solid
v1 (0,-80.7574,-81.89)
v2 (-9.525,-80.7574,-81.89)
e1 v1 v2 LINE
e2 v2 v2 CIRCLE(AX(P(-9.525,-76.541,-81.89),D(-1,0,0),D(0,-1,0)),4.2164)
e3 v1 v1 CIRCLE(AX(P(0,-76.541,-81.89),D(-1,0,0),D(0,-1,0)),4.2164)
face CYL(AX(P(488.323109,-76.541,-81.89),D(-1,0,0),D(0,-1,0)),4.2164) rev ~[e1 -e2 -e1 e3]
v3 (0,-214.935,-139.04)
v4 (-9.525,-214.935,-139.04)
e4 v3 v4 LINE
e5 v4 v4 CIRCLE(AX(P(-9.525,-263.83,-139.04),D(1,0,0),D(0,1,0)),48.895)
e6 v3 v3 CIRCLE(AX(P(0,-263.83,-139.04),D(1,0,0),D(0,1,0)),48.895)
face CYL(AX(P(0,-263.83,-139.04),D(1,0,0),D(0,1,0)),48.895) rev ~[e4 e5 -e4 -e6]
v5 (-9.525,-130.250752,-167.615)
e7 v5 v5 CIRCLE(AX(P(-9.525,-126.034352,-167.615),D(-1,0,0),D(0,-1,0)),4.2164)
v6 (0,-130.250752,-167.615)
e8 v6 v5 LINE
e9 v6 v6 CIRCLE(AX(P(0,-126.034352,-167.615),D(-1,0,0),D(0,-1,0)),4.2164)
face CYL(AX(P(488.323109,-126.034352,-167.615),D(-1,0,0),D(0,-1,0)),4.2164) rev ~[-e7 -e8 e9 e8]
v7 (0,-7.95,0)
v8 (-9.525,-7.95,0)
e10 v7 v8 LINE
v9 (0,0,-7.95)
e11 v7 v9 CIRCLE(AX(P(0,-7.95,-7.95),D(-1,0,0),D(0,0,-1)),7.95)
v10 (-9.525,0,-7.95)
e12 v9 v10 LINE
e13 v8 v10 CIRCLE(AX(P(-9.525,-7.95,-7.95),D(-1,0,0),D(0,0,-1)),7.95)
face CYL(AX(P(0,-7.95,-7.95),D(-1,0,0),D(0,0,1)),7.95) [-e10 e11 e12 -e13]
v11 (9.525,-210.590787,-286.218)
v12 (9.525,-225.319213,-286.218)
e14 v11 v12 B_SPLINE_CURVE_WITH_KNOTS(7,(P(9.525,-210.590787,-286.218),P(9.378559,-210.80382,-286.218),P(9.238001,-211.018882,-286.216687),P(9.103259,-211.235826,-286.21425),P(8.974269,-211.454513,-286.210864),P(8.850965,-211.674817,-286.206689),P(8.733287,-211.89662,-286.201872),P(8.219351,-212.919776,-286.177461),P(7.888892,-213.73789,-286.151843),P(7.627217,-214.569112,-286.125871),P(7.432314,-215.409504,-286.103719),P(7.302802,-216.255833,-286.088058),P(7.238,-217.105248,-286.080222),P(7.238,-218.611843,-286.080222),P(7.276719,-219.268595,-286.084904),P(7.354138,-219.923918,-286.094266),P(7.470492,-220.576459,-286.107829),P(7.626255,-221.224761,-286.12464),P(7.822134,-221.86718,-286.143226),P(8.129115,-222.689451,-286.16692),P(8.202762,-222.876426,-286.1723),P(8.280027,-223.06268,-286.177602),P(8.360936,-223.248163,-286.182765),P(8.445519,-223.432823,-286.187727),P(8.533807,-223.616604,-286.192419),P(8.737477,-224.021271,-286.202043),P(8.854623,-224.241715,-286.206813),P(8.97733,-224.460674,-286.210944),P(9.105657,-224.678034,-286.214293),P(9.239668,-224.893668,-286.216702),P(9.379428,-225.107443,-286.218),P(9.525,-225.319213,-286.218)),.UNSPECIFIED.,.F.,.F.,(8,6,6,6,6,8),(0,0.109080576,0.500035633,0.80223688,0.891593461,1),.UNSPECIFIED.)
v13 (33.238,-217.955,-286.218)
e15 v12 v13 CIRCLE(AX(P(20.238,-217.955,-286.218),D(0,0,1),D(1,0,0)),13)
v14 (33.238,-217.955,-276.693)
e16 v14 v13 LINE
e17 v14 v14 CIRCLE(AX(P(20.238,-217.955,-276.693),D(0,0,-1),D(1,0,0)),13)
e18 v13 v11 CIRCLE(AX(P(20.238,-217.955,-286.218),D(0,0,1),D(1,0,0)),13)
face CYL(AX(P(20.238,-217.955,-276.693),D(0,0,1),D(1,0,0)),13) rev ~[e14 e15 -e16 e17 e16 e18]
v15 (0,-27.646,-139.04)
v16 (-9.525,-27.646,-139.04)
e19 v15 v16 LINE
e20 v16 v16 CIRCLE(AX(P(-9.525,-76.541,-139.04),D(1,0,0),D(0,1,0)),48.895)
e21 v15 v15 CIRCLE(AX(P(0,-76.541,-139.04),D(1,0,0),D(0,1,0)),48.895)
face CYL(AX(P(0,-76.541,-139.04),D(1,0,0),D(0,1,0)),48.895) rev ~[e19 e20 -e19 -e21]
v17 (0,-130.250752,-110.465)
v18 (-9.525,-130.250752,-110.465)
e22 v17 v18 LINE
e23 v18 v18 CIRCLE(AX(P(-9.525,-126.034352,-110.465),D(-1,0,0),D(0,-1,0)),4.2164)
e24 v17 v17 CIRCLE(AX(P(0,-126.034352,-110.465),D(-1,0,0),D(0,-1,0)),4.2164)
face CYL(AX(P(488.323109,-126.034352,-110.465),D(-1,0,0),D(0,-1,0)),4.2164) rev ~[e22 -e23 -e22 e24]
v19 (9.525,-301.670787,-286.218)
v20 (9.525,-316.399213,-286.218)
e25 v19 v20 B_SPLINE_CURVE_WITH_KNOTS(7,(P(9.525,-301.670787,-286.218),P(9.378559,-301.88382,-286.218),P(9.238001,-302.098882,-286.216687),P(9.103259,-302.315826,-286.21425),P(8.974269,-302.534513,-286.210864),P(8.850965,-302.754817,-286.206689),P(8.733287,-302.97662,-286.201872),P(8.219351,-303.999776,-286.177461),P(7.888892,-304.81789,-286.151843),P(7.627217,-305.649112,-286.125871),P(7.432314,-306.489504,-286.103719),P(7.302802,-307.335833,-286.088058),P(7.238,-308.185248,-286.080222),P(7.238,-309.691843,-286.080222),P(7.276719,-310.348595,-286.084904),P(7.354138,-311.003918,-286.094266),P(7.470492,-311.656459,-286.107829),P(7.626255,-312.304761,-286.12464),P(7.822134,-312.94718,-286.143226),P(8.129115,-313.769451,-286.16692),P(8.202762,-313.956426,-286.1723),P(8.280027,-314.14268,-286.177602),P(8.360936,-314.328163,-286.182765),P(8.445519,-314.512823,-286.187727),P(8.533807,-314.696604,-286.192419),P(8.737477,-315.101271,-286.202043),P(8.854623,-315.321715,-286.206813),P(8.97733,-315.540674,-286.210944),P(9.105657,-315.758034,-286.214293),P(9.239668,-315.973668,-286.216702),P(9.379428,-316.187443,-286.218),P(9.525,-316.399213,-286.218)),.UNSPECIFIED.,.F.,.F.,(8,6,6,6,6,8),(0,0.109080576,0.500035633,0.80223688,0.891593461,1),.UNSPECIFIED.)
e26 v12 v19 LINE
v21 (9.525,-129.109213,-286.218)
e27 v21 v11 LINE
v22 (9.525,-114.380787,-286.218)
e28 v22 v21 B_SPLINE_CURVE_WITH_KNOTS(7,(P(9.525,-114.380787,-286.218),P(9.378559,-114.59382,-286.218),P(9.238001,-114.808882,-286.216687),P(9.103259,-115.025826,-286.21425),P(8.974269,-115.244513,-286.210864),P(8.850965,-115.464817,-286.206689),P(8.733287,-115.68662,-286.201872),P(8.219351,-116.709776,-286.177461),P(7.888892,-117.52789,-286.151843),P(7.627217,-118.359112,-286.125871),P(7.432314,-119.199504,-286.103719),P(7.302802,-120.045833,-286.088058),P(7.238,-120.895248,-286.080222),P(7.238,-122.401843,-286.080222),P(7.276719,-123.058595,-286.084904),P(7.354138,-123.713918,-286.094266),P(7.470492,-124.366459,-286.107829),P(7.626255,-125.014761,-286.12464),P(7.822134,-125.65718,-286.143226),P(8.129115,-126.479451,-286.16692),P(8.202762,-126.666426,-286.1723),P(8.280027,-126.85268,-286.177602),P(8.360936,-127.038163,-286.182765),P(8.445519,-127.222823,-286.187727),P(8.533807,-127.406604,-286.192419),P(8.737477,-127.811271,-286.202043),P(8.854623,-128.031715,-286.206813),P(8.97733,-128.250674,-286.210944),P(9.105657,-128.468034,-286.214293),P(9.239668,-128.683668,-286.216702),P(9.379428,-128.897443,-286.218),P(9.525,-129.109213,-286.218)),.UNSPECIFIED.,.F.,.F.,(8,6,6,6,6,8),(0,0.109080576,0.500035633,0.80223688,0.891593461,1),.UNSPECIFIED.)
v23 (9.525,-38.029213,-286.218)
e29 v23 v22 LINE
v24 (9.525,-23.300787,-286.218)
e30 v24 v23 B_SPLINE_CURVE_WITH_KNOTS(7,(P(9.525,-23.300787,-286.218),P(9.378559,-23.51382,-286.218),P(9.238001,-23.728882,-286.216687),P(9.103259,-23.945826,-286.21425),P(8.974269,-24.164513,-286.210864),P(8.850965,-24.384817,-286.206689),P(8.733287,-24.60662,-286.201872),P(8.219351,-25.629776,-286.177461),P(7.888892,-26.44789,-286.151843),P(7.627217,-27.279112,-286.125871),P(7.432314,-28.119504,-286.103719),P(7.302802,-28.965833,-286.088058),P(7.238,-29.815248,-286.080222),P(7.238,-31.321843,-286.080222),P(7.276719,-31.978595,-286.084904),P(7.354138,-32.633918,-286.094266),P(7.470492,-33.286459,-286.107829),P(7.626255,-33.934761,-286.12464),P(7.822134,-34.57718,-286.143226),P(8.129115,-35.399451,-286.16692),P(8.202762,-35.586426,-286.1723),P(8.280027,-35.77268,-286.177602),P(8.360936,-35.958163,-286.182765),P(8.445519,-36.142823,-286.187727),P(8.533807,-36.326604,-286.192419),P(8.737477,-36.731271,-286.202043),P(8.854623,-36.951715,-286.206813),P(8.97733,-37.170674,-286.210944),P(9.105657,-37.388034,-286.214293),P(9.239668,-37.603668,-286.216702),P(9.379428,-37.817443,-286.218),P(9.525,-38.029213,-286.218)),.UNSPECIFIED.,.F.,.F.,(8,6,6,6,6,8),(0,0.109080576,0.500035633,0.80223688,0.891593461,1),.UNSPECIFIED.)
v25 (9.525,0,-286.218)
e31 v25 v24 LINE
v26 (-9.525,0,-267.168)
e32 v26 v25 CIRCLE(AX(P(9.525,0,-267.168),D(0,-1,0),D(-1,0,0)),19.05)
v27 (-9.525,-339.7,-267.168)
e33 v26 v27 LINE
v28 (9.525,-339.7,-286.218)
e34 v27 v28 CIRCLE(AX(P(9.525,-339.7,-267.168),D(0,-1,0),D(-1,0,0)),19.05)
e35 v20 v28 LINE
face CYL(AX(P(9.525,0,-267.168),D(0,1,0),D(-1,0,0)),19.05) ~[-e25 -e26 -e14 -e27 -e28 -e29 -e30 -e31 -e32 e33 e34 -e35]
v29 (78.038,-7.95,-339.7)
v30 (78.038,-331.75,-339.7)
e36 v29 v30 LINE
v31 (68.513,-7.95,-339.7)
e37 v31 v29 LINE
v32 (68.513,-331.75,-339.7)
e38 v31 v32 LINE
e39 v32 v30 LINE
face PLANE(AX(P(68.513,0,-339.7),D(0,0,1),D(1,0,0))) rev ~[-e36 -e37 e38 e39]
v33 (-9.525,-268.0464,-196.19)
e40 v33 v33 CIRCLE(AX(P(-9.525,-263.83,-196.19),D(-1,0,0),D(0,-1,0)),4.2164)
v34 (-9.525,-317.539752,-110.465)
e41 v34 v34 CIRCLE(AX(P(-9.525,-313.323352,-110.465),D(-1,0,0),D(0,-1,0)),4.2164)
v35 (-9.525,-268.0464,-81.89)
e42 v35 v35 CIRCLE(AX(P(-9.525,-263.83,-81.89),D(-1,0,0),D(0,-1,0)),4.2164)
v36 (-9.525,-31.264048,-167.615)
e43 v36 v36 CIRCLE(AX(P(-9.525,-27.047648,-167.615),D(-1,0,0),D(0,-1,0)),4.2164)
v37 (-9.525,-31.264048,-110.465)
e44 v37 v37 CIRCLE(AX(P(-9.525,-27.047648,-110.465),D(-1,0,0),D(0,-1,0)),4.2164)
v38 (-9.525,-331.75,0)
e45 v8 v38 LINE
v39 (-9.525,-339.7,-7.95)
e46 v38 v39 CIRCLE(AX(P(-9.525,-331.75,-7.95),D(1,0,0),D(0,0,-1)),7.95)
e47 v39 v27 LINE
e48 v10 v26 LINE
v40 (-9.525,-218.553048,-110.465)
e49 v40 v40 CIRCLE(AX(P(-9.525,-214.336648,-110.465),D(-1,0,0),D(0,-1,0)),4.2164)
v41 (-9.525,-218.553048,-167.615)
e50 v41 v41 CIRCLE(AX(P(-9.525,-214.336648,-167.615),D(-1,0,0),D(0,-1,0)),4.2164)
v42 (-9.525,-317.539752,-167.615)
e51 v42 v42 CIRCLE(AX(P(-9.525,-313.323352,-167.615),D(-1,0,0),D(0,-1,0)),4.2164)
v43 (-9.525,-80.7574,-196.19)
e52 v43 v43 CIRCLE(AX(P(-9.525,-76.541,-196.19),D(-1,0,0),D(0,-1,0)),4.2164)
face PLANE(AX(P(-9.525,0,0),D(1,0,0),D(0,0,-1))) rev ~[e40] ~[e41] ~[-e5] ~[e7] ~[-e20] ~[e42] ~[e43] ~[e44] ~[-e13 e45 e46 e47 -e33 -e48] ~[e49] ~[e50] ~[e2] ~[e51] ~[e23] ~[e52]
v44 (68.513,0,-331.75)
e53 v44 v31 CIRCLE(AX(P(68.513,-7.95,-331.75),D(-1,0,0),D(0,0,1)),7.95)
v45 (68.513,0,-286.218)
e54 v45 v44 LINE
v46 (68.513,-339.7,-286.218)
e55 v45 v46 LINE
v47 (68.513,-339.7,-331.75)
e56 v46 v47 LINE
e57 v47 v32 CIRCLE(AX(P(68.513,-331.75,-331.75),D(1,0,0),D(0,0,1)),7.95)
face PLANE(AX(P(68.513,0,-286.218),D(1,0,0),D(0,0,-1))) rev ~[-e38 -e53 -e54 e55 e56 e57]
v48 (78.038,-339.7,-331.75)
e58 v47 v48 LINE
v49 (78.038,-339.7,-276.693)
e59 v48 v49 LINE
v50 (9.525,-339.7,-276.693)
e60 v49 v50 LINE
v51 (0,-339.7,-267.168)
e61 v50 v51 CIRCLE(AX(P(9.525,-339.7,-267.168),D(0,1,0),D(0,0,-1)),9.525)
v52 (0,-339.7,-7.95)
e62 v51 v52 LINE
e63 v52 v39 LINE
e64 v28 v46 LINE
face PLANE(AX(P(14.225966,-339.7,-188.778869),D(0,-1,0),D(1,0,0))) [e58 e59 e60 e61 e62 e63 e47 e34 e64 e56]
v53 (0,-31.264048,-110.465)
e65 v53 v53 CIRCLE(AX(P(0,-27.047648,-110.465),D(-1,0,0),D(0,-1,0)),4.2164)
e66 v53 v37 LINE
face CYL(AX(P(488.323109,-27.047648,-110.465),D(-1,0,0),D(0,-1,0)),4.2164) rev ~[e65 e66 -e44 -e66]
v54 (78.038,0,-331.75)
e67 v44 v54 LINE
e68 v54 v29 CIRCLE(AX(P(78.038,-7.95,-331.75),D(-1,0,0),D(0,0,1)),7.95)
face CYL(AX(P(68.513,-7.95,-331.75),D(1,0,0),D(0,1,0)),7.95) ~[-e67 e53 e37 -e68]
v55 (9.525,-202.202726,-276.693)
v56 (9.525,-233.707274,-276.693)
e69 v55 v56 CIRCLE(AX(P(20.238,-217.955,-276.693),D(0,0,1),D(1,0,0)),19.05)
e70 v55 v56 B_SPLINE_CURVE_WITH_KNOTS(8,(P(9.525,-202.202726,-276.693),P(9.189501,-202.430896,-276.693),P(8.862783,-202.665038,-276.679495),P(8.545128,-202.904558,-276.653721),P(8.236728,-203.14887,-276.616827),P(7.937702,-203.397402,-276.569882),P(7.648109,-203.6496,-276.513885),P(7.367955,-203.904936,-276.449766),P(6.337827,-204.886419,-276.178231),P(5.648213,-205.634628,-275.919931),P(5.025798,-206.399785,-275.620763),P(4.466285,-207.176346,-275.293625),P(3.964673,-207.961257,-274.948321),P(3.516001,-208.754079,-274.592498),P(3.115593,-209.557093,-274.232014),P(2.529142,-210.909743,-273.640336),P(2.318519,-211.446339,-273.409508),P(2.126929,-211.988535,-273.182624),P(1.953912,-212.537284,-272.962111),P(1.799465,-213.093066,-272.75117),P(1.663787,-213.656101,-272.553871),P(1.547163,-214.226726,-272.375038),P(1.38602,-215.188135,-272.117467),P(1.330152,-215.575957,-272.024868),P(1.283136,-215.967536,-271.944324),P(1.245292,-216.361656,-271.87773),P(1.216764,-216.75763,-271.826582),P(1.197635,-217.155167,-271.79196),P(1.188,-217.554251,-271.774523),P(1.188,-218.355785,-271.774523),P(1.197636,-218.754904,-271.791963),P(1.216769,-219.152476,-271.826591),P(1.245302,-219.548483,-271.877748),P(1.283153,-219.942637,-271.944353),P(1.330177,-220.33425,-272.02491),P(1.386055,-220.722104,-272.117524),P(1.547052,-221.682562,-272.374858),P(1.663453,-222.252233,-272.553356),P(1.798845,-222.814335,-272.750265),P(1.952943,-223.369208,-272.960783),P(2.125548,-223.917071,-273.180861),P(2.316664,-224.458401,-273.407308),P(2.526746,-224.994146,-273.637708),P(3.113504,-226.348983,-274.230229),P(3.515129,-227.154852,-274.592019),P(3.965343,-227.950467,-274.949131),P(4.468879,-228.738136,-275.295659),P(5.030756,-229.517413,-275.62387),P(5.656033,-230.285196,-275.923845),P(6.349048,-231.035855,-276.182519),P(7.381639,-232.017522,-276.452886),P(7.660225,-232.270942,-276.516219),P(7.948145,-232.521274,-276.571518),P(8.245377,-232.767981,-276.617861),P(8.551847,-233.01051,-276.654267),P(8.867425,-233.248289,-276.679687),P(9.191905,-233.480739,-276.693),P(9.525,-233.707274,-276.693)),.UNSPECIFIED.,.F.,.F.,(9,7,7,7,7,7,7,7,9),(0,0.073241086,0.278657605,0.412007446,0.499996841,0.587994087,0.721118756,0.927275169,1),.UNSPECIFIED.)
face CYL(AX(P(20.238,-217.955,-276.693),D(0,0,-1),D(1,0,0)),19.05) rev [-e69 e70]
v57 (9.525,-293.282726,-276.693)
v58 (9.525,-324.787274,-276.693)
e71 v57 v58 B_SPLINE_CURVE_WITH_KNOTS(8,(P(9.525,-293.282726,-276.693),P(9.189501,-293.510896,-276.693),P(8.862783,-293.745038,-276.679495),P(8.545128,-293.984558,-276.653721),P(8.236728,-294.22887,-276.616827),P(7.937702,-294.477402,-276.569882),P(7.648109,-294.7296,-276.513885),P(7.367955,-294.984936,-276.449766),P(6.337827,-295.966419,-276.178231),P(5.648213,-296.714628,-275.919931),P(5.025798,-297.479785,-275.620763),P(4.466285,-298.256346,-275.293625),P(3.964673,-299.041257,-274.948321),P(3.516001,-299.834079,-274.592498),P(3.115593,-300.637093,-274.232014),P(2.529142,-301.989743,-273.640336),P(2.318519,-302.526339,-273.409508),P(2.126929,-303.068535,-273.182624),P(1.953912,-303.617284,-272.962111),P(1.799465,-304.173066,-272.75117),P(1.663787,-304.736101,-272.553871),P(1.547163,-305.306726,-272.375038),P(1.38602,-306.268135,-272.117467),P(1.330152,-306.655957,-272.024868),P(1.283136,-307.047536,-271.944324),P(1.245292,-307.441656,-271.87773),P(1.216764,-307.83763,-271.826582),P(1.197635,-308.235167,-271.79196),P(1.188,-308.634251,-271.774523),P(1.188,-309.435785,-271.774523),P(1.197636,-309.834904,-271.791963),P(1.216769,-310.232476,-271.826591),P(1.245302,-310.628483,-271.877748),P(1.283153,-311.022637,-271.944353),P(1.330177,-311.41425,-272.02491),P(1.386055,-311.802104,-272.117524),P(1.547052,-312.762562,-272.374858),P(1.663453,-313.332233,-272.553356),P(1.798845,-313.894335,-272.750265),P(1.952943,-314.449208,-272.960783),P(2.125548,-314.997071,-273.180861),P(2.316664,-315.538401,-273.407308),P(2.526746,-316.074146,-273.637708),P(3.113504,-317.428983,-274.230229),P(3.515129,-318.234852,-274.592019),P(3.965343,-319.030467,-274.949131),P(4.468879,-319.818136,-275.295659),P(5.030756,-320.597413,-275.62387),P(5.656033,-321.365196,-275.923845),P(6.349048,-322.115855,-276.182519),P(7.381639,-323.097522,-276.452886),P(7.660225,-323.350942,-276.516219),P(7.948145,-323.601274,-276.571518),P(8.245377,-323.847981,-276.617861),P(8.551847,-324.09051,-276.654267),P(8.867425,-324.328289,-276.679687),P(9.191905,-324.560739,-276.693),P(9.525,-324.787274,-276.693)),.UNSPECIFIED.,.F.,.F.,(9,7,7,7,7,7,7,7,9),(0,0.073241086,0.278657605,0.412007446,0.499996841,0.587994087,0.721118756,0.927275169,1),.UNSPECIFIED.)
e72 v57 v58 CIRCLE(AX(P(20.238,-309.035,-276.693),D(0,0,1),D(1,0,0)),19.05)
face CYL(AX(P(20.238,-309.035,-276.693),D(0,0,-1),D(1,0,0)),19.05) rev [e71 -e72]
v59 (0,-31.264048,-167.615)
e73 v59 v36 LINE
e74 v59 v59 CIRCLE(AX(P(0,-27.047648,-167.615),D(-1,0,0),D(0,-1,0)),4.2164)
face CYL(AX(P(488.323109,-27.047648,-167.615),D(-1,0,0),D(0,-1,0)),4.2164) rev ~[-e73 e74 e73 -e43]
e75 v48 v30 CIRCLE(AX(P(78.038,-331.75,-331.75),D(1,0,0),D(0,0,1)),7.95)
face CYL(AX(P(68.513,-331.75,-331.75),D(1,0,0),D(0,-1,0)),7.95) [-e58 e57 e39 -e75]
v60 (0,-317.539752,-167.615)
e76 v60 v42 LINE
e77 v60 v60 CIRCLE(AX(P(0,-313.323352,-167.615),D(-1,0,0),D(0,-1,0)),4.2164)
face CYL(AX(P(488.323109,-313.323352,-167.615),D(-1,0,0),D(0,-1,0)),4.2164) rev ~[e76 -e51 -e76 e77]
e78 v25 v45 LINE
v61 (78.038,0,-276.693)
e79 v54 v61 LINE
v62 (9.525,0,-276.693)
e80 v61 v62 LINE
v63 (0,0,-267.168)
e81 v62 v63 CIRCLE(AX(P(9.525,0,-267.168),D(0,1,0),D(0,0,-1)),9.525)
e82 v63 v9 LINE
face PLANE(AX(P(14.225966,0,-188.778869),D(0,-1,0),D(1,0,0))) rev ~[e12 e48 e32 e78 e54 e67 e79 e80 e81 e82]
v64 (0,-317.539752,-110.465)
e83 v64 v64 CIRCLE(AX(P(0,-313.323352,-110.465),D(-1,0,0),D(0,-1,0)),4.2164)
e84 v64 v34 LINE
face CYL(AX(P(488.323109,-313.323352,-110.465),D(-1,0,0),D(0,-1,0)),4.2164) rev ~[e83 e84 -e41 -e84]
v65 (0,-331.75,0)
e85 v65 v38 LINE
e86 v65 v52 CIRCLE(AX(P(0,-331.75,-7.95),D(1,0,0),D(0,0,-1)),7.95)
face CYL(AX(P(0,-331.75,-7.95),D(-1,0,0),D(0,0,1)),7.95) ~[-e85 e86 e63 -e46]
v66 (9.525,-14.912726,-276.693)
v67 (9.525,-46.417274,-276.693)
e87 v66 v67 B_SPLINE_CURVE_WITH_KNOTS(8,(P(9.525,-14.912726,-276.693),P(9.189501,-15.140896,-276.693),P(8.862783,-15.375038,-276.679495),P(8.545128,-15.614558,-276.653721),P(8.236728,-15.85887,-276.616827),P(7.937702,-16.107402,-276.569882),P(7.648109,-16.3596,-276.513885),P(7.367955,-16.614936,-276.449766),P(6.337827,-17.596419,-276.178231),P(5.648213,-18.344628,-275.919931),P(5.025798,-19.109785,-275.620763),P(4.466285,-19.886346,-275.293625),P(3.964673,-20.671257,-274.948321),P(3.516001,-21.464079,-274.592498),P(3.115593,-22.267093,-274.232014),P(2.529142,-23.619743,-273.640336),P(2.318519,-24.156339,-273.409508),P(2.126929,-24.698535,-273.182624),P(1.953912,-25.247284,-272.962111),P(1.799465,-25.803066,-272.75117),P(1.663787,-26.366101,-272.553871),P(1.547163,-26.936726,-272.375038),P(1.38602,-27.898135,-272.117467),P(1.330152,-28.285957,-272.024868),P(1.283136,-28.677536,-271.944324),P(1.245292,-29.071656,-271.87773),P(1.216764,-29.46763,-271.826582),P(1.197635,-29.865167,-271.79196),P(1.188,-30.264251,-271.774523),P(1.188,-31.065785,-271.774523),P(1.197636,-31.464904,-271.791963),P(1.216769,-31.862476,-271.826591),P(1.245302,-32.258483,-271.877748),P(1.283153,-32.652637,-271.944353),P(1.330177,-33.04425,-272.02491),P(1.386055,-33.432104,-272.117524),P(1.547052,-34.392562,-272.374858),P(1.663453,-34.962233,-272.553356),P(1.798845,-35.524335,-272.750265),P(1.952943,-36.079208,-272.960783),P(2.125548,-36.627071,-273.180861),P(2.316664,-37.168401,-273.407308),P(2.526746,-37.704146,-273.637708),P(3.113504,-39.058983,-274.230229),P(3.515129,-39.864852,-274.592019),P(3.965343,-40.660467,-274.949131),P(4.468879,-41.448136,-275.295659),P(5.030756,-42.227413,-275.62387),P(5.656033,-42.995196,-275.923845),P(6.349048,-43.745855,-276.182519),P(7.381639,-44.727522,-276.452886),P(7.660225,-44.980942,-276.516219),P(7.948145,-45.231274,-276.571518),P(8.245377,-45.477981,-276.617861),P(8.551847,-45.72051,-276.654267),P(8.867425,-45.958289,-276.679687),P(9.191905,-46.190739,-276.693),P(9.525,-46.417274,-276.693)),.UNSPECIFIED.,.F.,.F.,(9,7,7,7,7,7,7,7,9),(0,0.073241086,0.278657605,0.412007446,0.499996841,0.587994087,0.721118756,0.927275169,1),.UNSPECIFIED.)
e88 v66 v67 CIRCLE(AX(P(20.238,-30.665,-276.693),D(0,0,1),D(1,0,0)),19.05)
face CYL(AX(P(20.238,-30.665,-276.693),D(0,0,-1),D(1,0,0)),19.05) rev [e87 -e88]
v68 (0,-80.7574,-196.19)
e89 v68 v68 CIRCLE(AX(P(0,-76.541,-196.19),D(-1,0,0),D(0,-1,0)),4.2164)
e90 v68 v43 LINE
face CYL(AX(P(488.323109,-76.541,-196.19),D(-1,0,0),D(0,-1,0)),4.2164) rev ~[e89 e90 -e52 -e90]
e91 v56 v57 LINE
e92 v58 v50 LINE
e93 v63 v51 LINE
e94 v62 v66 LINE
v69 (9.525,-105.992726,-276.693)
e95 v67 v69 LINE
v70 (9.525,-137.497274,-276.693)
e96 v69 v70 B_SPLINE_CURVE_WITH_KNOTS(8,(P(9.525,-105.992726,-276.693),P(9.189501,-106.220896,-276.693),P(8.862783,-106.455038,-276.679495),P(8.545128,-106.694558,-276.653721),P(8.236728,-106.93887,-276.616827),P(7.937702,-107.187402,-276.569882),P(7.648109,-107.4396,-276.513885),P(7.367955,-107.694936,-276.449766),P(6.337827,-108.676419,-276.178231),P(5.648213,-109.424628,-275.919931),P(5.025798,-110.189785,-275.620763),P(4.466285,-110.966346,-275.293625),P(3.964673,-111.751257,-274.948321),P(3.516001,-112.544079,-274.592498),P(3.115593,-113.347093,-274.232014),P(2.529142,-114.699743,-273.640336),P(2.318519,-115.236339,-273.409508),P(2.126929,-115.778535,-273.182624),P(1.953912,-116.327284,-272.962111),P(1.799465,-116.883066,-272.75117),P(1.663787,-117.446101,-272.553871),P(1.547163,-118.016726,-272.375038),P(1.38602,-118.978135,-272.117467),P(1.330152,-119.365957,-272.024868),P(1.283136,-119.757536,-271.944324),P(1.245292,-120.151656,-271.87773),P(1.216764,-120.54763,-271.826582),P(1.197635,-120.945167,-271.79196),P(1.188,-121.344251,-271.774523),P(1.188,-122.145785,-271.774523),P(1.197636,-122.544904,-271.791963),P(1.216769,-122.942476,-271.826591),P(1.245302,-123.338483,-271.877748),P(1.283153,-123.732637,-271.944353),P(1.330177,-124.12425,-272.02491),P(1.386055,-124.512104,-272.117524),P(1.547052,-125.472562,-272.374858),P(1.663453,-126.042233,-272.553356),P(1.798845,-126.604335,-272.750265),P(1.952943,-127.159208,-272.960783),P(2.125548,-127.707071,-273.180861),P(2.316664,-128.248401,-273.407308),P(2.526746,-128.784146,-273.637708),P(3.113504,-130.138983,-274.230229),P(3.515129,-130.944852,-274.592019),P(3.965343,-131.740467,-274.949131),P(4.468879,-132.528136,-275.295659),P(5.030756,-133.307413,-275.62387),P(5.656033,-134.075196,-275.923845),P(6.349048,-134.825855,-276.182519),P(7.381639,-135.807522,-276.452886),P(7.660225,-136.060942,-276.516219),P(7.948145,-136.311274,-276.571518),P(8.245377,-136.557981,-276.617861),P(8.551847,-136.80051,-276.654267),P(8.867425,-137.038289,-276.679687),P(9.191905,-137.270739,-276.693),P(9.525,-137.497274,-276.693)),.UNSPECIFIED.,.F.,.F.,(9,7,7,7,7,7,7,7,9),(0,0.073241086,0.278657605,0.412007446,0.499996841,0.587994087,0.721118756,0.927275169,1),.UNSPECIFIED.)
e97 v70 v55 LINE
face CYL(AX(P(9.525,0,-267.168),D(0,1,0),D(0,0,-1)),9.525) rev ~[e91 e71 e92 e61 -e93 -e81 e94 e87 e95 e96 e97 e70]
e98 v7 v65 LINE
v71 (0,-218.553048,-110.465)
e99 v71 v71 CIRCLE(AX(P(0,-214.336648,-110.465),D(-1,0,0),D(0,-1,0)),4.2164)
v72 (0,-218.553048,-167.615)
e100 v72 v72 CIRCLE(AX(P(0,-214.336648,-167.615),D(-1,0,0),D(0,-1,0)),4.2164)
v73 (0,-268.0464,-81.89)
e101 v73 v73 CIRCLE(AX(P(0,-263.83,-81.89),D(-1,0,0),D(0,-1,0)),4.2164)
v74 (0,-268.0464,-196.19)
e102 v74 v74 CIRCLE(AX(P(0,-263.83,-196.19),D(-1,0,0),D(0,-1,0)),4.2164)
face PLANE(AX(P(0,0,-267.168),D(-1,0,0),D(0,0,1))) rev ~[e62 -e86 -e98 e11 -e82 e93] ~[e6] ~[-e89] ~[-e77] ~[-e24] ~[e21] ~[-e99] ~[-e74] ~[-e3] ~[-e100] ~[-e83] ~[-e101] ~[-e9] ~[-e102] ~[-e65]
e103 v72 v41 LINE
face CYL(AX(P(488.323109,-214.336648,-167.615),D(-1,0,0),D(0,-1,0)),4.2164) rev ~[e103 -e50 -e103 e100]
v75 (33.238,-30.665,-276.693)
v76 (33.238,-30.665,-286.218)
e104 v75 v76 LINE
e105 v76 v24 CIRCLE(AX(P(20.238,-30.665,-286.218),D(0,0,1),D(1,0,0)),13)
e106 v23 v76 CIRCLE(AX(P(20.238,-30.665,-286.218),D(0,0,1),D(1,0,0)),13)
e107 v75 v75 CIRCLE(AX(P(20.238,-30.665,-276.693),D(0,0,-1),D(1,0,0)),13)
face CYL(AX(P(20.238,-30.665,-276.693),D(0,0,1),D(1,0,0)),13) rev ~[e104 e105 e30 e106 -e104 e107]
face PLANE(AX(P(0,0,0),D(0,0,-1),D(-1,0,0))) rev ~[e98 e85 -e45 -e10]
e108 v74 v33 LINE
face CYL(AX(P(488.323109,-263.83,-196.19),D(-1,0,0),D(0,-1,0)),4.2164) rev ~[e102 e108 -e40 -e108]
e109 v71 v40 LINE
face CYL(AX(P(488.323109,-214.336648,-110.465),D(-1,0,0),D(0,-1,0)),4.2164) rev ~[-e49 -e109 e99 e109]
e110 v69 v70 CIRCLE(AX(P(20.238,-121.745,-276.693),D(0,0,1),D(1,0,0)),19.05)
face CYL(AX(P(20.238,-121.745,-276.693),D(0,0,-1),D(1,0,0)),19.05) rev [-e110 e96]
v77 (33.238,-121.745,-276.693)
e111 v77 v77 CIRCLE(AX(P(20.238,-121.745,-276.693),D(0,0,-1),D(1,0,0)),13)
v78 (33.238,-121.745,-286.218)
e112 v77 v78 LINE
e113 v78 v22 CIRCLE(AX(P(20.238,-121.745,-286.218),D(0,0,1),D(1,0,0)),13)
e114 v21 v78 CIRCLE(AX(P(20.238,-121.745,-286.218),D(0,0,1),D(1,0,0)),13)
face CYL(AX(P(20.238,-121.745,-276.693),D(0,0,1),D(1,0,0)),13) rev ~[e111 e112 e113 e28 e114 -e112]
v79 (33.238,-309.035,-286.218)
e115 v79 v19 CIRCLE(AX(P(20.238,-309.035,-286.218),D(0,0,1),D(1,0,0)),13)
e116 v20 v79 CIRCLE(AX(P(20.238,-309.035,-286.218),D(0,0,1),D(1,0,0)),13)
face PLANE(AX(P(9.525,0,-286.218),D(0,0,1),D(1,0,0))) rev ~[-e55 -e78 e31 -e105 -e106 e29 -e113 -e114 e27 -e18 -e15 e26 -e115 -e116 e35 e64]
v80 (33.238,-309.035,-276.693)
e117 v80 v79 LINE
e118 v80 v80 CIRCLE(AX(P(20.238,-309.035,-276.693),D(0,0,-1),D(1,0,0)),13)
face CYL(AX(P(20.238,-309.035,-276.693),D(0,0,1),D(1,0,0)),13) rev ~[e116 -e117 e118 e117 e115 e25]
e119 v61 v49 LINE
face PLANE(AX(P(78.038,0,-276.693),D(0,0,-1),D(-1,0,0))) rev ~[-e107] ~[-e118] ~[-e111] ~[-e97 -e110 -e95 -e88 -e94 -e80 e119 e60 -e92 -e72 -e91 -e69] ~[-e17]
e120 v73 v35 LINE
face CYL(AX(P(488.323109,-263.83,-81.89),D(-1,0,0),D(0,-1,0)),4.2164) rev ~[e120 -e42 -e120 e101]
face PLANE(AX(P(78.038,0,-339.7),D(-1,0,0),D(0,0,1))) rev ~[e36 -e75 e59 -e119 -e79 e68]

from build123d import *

# Parameters (mm, degrees)
F1_DEPTH  = 339.7
F2_R      = 7.95
F3_R      = 7.95
F4_R      = 48.895
F5_DEPTH  = 9.526
F6_D      = 8.4328
F8_D      = 26
F8_DEPTH  = 63.008
F9_R      = 19.05
F10_DEPTH = 25


with BuildPart() as f1:
    # F0 (on Front) → F1 (new body)
    with BuildSketch(Plane.XZ):
        with BuildLine():
            Line((0, -267.168), (0, 0))
            Line((0, 0), (-9.525, 0))
            Line((-9.525, 0), (-9.525, -267.168))
            ThreePointArc((-9.525, -267.168), (-3.9453841816, -280.6383841816), (9.525, -286.218))
            Line((9.525, -286.218), (68.513, -286.218))
            Line((68.513, -286.218), (68.513, -339.7))
            Line((68.513, -339.7), (78.038, -339.7))
            Line((78.038, -339.7), (78.038, -276.693))
            Line((78.038, -276.693), (9.525, -276.693))
            ThreePointArc((9.525, -276.693), (2.7898079092, -273.9031920908), (0, -267.168))
        make_face()
    extrude(amount=F1_DEPTH)

    # F2
    f2_edges = [f1.edges().sort_by_distance(p)[0] for p in [
        (-4.7625, -339.7, 0),
    ]]
    fillet(f2_edges, radius=F2_R)

    # F3
    f3_edges = [f1.edges().sort_by_distance(p)[0] for p in [
        (-4.7625, 0, 0),
        (73.2755, 0, -339.7),
        (73.2755, -339.7, -339.7),
    ]]
    fillet(f3_edges, radius=F3_R)

    # F4 (on face) → F5 (cut, through all)
    with BuildSketch(Plane.YZ):
        with Locations((-76.541, -139.04)):
            Circle(F4_R)
        with Locations((-263.83, -139.04)):
            Circle(F4_R)
    extrude(amount=-F5_DEPTH, mode=Mode.SUBTRACT)

    # F6 (through all)
    with Locations(Plane.YZ):
        with Locations((-263.83, -81.89), (-313.3233518263, -110.465), (-313.3233518263, -167.615), (-263.83, -196.19), (-214.3366481737, -167.615), (-214.3366481737, -110.465), (-126.0343518263, -110.465), (-76.541, -81.89), (-27.0476481737, -110.465), (-27.0476481737, -167.615), (-76.541, -196.19), (-126.0343518263, -167.615)):
            Hole(F6_D / 2)

    # F8 (through all, one way)
    with BuildSketch(Plane.XY.offset(-276.693)):
        with Locations((20.238, -30.665), (20.238, -121.745), (20.238, -217.955), (20.238, -309.035)):
            Circle(F8_D / 2)
    extrude(amount=-F8_DEPTH, mode=Mode.SUBTRACT)

    # F9 (on face) → F10 (cut)
    with BuildSketch(Plane.XY.offset(-276.693)):
        with Locations((20.238, -30.665)):
            Circle(F9_R)
        with Locations((20.238, -121.745)):
            Circle(F9_R)
        with Locations((20.238, -217.955)):
            Circle(F9_R)
        with Locations((20.238, -309.035)):
            Circle(F9_R)
    extrude(amount=F10_DEPTH, mode=Mode.SUBTRACT)


solid = f1.part
